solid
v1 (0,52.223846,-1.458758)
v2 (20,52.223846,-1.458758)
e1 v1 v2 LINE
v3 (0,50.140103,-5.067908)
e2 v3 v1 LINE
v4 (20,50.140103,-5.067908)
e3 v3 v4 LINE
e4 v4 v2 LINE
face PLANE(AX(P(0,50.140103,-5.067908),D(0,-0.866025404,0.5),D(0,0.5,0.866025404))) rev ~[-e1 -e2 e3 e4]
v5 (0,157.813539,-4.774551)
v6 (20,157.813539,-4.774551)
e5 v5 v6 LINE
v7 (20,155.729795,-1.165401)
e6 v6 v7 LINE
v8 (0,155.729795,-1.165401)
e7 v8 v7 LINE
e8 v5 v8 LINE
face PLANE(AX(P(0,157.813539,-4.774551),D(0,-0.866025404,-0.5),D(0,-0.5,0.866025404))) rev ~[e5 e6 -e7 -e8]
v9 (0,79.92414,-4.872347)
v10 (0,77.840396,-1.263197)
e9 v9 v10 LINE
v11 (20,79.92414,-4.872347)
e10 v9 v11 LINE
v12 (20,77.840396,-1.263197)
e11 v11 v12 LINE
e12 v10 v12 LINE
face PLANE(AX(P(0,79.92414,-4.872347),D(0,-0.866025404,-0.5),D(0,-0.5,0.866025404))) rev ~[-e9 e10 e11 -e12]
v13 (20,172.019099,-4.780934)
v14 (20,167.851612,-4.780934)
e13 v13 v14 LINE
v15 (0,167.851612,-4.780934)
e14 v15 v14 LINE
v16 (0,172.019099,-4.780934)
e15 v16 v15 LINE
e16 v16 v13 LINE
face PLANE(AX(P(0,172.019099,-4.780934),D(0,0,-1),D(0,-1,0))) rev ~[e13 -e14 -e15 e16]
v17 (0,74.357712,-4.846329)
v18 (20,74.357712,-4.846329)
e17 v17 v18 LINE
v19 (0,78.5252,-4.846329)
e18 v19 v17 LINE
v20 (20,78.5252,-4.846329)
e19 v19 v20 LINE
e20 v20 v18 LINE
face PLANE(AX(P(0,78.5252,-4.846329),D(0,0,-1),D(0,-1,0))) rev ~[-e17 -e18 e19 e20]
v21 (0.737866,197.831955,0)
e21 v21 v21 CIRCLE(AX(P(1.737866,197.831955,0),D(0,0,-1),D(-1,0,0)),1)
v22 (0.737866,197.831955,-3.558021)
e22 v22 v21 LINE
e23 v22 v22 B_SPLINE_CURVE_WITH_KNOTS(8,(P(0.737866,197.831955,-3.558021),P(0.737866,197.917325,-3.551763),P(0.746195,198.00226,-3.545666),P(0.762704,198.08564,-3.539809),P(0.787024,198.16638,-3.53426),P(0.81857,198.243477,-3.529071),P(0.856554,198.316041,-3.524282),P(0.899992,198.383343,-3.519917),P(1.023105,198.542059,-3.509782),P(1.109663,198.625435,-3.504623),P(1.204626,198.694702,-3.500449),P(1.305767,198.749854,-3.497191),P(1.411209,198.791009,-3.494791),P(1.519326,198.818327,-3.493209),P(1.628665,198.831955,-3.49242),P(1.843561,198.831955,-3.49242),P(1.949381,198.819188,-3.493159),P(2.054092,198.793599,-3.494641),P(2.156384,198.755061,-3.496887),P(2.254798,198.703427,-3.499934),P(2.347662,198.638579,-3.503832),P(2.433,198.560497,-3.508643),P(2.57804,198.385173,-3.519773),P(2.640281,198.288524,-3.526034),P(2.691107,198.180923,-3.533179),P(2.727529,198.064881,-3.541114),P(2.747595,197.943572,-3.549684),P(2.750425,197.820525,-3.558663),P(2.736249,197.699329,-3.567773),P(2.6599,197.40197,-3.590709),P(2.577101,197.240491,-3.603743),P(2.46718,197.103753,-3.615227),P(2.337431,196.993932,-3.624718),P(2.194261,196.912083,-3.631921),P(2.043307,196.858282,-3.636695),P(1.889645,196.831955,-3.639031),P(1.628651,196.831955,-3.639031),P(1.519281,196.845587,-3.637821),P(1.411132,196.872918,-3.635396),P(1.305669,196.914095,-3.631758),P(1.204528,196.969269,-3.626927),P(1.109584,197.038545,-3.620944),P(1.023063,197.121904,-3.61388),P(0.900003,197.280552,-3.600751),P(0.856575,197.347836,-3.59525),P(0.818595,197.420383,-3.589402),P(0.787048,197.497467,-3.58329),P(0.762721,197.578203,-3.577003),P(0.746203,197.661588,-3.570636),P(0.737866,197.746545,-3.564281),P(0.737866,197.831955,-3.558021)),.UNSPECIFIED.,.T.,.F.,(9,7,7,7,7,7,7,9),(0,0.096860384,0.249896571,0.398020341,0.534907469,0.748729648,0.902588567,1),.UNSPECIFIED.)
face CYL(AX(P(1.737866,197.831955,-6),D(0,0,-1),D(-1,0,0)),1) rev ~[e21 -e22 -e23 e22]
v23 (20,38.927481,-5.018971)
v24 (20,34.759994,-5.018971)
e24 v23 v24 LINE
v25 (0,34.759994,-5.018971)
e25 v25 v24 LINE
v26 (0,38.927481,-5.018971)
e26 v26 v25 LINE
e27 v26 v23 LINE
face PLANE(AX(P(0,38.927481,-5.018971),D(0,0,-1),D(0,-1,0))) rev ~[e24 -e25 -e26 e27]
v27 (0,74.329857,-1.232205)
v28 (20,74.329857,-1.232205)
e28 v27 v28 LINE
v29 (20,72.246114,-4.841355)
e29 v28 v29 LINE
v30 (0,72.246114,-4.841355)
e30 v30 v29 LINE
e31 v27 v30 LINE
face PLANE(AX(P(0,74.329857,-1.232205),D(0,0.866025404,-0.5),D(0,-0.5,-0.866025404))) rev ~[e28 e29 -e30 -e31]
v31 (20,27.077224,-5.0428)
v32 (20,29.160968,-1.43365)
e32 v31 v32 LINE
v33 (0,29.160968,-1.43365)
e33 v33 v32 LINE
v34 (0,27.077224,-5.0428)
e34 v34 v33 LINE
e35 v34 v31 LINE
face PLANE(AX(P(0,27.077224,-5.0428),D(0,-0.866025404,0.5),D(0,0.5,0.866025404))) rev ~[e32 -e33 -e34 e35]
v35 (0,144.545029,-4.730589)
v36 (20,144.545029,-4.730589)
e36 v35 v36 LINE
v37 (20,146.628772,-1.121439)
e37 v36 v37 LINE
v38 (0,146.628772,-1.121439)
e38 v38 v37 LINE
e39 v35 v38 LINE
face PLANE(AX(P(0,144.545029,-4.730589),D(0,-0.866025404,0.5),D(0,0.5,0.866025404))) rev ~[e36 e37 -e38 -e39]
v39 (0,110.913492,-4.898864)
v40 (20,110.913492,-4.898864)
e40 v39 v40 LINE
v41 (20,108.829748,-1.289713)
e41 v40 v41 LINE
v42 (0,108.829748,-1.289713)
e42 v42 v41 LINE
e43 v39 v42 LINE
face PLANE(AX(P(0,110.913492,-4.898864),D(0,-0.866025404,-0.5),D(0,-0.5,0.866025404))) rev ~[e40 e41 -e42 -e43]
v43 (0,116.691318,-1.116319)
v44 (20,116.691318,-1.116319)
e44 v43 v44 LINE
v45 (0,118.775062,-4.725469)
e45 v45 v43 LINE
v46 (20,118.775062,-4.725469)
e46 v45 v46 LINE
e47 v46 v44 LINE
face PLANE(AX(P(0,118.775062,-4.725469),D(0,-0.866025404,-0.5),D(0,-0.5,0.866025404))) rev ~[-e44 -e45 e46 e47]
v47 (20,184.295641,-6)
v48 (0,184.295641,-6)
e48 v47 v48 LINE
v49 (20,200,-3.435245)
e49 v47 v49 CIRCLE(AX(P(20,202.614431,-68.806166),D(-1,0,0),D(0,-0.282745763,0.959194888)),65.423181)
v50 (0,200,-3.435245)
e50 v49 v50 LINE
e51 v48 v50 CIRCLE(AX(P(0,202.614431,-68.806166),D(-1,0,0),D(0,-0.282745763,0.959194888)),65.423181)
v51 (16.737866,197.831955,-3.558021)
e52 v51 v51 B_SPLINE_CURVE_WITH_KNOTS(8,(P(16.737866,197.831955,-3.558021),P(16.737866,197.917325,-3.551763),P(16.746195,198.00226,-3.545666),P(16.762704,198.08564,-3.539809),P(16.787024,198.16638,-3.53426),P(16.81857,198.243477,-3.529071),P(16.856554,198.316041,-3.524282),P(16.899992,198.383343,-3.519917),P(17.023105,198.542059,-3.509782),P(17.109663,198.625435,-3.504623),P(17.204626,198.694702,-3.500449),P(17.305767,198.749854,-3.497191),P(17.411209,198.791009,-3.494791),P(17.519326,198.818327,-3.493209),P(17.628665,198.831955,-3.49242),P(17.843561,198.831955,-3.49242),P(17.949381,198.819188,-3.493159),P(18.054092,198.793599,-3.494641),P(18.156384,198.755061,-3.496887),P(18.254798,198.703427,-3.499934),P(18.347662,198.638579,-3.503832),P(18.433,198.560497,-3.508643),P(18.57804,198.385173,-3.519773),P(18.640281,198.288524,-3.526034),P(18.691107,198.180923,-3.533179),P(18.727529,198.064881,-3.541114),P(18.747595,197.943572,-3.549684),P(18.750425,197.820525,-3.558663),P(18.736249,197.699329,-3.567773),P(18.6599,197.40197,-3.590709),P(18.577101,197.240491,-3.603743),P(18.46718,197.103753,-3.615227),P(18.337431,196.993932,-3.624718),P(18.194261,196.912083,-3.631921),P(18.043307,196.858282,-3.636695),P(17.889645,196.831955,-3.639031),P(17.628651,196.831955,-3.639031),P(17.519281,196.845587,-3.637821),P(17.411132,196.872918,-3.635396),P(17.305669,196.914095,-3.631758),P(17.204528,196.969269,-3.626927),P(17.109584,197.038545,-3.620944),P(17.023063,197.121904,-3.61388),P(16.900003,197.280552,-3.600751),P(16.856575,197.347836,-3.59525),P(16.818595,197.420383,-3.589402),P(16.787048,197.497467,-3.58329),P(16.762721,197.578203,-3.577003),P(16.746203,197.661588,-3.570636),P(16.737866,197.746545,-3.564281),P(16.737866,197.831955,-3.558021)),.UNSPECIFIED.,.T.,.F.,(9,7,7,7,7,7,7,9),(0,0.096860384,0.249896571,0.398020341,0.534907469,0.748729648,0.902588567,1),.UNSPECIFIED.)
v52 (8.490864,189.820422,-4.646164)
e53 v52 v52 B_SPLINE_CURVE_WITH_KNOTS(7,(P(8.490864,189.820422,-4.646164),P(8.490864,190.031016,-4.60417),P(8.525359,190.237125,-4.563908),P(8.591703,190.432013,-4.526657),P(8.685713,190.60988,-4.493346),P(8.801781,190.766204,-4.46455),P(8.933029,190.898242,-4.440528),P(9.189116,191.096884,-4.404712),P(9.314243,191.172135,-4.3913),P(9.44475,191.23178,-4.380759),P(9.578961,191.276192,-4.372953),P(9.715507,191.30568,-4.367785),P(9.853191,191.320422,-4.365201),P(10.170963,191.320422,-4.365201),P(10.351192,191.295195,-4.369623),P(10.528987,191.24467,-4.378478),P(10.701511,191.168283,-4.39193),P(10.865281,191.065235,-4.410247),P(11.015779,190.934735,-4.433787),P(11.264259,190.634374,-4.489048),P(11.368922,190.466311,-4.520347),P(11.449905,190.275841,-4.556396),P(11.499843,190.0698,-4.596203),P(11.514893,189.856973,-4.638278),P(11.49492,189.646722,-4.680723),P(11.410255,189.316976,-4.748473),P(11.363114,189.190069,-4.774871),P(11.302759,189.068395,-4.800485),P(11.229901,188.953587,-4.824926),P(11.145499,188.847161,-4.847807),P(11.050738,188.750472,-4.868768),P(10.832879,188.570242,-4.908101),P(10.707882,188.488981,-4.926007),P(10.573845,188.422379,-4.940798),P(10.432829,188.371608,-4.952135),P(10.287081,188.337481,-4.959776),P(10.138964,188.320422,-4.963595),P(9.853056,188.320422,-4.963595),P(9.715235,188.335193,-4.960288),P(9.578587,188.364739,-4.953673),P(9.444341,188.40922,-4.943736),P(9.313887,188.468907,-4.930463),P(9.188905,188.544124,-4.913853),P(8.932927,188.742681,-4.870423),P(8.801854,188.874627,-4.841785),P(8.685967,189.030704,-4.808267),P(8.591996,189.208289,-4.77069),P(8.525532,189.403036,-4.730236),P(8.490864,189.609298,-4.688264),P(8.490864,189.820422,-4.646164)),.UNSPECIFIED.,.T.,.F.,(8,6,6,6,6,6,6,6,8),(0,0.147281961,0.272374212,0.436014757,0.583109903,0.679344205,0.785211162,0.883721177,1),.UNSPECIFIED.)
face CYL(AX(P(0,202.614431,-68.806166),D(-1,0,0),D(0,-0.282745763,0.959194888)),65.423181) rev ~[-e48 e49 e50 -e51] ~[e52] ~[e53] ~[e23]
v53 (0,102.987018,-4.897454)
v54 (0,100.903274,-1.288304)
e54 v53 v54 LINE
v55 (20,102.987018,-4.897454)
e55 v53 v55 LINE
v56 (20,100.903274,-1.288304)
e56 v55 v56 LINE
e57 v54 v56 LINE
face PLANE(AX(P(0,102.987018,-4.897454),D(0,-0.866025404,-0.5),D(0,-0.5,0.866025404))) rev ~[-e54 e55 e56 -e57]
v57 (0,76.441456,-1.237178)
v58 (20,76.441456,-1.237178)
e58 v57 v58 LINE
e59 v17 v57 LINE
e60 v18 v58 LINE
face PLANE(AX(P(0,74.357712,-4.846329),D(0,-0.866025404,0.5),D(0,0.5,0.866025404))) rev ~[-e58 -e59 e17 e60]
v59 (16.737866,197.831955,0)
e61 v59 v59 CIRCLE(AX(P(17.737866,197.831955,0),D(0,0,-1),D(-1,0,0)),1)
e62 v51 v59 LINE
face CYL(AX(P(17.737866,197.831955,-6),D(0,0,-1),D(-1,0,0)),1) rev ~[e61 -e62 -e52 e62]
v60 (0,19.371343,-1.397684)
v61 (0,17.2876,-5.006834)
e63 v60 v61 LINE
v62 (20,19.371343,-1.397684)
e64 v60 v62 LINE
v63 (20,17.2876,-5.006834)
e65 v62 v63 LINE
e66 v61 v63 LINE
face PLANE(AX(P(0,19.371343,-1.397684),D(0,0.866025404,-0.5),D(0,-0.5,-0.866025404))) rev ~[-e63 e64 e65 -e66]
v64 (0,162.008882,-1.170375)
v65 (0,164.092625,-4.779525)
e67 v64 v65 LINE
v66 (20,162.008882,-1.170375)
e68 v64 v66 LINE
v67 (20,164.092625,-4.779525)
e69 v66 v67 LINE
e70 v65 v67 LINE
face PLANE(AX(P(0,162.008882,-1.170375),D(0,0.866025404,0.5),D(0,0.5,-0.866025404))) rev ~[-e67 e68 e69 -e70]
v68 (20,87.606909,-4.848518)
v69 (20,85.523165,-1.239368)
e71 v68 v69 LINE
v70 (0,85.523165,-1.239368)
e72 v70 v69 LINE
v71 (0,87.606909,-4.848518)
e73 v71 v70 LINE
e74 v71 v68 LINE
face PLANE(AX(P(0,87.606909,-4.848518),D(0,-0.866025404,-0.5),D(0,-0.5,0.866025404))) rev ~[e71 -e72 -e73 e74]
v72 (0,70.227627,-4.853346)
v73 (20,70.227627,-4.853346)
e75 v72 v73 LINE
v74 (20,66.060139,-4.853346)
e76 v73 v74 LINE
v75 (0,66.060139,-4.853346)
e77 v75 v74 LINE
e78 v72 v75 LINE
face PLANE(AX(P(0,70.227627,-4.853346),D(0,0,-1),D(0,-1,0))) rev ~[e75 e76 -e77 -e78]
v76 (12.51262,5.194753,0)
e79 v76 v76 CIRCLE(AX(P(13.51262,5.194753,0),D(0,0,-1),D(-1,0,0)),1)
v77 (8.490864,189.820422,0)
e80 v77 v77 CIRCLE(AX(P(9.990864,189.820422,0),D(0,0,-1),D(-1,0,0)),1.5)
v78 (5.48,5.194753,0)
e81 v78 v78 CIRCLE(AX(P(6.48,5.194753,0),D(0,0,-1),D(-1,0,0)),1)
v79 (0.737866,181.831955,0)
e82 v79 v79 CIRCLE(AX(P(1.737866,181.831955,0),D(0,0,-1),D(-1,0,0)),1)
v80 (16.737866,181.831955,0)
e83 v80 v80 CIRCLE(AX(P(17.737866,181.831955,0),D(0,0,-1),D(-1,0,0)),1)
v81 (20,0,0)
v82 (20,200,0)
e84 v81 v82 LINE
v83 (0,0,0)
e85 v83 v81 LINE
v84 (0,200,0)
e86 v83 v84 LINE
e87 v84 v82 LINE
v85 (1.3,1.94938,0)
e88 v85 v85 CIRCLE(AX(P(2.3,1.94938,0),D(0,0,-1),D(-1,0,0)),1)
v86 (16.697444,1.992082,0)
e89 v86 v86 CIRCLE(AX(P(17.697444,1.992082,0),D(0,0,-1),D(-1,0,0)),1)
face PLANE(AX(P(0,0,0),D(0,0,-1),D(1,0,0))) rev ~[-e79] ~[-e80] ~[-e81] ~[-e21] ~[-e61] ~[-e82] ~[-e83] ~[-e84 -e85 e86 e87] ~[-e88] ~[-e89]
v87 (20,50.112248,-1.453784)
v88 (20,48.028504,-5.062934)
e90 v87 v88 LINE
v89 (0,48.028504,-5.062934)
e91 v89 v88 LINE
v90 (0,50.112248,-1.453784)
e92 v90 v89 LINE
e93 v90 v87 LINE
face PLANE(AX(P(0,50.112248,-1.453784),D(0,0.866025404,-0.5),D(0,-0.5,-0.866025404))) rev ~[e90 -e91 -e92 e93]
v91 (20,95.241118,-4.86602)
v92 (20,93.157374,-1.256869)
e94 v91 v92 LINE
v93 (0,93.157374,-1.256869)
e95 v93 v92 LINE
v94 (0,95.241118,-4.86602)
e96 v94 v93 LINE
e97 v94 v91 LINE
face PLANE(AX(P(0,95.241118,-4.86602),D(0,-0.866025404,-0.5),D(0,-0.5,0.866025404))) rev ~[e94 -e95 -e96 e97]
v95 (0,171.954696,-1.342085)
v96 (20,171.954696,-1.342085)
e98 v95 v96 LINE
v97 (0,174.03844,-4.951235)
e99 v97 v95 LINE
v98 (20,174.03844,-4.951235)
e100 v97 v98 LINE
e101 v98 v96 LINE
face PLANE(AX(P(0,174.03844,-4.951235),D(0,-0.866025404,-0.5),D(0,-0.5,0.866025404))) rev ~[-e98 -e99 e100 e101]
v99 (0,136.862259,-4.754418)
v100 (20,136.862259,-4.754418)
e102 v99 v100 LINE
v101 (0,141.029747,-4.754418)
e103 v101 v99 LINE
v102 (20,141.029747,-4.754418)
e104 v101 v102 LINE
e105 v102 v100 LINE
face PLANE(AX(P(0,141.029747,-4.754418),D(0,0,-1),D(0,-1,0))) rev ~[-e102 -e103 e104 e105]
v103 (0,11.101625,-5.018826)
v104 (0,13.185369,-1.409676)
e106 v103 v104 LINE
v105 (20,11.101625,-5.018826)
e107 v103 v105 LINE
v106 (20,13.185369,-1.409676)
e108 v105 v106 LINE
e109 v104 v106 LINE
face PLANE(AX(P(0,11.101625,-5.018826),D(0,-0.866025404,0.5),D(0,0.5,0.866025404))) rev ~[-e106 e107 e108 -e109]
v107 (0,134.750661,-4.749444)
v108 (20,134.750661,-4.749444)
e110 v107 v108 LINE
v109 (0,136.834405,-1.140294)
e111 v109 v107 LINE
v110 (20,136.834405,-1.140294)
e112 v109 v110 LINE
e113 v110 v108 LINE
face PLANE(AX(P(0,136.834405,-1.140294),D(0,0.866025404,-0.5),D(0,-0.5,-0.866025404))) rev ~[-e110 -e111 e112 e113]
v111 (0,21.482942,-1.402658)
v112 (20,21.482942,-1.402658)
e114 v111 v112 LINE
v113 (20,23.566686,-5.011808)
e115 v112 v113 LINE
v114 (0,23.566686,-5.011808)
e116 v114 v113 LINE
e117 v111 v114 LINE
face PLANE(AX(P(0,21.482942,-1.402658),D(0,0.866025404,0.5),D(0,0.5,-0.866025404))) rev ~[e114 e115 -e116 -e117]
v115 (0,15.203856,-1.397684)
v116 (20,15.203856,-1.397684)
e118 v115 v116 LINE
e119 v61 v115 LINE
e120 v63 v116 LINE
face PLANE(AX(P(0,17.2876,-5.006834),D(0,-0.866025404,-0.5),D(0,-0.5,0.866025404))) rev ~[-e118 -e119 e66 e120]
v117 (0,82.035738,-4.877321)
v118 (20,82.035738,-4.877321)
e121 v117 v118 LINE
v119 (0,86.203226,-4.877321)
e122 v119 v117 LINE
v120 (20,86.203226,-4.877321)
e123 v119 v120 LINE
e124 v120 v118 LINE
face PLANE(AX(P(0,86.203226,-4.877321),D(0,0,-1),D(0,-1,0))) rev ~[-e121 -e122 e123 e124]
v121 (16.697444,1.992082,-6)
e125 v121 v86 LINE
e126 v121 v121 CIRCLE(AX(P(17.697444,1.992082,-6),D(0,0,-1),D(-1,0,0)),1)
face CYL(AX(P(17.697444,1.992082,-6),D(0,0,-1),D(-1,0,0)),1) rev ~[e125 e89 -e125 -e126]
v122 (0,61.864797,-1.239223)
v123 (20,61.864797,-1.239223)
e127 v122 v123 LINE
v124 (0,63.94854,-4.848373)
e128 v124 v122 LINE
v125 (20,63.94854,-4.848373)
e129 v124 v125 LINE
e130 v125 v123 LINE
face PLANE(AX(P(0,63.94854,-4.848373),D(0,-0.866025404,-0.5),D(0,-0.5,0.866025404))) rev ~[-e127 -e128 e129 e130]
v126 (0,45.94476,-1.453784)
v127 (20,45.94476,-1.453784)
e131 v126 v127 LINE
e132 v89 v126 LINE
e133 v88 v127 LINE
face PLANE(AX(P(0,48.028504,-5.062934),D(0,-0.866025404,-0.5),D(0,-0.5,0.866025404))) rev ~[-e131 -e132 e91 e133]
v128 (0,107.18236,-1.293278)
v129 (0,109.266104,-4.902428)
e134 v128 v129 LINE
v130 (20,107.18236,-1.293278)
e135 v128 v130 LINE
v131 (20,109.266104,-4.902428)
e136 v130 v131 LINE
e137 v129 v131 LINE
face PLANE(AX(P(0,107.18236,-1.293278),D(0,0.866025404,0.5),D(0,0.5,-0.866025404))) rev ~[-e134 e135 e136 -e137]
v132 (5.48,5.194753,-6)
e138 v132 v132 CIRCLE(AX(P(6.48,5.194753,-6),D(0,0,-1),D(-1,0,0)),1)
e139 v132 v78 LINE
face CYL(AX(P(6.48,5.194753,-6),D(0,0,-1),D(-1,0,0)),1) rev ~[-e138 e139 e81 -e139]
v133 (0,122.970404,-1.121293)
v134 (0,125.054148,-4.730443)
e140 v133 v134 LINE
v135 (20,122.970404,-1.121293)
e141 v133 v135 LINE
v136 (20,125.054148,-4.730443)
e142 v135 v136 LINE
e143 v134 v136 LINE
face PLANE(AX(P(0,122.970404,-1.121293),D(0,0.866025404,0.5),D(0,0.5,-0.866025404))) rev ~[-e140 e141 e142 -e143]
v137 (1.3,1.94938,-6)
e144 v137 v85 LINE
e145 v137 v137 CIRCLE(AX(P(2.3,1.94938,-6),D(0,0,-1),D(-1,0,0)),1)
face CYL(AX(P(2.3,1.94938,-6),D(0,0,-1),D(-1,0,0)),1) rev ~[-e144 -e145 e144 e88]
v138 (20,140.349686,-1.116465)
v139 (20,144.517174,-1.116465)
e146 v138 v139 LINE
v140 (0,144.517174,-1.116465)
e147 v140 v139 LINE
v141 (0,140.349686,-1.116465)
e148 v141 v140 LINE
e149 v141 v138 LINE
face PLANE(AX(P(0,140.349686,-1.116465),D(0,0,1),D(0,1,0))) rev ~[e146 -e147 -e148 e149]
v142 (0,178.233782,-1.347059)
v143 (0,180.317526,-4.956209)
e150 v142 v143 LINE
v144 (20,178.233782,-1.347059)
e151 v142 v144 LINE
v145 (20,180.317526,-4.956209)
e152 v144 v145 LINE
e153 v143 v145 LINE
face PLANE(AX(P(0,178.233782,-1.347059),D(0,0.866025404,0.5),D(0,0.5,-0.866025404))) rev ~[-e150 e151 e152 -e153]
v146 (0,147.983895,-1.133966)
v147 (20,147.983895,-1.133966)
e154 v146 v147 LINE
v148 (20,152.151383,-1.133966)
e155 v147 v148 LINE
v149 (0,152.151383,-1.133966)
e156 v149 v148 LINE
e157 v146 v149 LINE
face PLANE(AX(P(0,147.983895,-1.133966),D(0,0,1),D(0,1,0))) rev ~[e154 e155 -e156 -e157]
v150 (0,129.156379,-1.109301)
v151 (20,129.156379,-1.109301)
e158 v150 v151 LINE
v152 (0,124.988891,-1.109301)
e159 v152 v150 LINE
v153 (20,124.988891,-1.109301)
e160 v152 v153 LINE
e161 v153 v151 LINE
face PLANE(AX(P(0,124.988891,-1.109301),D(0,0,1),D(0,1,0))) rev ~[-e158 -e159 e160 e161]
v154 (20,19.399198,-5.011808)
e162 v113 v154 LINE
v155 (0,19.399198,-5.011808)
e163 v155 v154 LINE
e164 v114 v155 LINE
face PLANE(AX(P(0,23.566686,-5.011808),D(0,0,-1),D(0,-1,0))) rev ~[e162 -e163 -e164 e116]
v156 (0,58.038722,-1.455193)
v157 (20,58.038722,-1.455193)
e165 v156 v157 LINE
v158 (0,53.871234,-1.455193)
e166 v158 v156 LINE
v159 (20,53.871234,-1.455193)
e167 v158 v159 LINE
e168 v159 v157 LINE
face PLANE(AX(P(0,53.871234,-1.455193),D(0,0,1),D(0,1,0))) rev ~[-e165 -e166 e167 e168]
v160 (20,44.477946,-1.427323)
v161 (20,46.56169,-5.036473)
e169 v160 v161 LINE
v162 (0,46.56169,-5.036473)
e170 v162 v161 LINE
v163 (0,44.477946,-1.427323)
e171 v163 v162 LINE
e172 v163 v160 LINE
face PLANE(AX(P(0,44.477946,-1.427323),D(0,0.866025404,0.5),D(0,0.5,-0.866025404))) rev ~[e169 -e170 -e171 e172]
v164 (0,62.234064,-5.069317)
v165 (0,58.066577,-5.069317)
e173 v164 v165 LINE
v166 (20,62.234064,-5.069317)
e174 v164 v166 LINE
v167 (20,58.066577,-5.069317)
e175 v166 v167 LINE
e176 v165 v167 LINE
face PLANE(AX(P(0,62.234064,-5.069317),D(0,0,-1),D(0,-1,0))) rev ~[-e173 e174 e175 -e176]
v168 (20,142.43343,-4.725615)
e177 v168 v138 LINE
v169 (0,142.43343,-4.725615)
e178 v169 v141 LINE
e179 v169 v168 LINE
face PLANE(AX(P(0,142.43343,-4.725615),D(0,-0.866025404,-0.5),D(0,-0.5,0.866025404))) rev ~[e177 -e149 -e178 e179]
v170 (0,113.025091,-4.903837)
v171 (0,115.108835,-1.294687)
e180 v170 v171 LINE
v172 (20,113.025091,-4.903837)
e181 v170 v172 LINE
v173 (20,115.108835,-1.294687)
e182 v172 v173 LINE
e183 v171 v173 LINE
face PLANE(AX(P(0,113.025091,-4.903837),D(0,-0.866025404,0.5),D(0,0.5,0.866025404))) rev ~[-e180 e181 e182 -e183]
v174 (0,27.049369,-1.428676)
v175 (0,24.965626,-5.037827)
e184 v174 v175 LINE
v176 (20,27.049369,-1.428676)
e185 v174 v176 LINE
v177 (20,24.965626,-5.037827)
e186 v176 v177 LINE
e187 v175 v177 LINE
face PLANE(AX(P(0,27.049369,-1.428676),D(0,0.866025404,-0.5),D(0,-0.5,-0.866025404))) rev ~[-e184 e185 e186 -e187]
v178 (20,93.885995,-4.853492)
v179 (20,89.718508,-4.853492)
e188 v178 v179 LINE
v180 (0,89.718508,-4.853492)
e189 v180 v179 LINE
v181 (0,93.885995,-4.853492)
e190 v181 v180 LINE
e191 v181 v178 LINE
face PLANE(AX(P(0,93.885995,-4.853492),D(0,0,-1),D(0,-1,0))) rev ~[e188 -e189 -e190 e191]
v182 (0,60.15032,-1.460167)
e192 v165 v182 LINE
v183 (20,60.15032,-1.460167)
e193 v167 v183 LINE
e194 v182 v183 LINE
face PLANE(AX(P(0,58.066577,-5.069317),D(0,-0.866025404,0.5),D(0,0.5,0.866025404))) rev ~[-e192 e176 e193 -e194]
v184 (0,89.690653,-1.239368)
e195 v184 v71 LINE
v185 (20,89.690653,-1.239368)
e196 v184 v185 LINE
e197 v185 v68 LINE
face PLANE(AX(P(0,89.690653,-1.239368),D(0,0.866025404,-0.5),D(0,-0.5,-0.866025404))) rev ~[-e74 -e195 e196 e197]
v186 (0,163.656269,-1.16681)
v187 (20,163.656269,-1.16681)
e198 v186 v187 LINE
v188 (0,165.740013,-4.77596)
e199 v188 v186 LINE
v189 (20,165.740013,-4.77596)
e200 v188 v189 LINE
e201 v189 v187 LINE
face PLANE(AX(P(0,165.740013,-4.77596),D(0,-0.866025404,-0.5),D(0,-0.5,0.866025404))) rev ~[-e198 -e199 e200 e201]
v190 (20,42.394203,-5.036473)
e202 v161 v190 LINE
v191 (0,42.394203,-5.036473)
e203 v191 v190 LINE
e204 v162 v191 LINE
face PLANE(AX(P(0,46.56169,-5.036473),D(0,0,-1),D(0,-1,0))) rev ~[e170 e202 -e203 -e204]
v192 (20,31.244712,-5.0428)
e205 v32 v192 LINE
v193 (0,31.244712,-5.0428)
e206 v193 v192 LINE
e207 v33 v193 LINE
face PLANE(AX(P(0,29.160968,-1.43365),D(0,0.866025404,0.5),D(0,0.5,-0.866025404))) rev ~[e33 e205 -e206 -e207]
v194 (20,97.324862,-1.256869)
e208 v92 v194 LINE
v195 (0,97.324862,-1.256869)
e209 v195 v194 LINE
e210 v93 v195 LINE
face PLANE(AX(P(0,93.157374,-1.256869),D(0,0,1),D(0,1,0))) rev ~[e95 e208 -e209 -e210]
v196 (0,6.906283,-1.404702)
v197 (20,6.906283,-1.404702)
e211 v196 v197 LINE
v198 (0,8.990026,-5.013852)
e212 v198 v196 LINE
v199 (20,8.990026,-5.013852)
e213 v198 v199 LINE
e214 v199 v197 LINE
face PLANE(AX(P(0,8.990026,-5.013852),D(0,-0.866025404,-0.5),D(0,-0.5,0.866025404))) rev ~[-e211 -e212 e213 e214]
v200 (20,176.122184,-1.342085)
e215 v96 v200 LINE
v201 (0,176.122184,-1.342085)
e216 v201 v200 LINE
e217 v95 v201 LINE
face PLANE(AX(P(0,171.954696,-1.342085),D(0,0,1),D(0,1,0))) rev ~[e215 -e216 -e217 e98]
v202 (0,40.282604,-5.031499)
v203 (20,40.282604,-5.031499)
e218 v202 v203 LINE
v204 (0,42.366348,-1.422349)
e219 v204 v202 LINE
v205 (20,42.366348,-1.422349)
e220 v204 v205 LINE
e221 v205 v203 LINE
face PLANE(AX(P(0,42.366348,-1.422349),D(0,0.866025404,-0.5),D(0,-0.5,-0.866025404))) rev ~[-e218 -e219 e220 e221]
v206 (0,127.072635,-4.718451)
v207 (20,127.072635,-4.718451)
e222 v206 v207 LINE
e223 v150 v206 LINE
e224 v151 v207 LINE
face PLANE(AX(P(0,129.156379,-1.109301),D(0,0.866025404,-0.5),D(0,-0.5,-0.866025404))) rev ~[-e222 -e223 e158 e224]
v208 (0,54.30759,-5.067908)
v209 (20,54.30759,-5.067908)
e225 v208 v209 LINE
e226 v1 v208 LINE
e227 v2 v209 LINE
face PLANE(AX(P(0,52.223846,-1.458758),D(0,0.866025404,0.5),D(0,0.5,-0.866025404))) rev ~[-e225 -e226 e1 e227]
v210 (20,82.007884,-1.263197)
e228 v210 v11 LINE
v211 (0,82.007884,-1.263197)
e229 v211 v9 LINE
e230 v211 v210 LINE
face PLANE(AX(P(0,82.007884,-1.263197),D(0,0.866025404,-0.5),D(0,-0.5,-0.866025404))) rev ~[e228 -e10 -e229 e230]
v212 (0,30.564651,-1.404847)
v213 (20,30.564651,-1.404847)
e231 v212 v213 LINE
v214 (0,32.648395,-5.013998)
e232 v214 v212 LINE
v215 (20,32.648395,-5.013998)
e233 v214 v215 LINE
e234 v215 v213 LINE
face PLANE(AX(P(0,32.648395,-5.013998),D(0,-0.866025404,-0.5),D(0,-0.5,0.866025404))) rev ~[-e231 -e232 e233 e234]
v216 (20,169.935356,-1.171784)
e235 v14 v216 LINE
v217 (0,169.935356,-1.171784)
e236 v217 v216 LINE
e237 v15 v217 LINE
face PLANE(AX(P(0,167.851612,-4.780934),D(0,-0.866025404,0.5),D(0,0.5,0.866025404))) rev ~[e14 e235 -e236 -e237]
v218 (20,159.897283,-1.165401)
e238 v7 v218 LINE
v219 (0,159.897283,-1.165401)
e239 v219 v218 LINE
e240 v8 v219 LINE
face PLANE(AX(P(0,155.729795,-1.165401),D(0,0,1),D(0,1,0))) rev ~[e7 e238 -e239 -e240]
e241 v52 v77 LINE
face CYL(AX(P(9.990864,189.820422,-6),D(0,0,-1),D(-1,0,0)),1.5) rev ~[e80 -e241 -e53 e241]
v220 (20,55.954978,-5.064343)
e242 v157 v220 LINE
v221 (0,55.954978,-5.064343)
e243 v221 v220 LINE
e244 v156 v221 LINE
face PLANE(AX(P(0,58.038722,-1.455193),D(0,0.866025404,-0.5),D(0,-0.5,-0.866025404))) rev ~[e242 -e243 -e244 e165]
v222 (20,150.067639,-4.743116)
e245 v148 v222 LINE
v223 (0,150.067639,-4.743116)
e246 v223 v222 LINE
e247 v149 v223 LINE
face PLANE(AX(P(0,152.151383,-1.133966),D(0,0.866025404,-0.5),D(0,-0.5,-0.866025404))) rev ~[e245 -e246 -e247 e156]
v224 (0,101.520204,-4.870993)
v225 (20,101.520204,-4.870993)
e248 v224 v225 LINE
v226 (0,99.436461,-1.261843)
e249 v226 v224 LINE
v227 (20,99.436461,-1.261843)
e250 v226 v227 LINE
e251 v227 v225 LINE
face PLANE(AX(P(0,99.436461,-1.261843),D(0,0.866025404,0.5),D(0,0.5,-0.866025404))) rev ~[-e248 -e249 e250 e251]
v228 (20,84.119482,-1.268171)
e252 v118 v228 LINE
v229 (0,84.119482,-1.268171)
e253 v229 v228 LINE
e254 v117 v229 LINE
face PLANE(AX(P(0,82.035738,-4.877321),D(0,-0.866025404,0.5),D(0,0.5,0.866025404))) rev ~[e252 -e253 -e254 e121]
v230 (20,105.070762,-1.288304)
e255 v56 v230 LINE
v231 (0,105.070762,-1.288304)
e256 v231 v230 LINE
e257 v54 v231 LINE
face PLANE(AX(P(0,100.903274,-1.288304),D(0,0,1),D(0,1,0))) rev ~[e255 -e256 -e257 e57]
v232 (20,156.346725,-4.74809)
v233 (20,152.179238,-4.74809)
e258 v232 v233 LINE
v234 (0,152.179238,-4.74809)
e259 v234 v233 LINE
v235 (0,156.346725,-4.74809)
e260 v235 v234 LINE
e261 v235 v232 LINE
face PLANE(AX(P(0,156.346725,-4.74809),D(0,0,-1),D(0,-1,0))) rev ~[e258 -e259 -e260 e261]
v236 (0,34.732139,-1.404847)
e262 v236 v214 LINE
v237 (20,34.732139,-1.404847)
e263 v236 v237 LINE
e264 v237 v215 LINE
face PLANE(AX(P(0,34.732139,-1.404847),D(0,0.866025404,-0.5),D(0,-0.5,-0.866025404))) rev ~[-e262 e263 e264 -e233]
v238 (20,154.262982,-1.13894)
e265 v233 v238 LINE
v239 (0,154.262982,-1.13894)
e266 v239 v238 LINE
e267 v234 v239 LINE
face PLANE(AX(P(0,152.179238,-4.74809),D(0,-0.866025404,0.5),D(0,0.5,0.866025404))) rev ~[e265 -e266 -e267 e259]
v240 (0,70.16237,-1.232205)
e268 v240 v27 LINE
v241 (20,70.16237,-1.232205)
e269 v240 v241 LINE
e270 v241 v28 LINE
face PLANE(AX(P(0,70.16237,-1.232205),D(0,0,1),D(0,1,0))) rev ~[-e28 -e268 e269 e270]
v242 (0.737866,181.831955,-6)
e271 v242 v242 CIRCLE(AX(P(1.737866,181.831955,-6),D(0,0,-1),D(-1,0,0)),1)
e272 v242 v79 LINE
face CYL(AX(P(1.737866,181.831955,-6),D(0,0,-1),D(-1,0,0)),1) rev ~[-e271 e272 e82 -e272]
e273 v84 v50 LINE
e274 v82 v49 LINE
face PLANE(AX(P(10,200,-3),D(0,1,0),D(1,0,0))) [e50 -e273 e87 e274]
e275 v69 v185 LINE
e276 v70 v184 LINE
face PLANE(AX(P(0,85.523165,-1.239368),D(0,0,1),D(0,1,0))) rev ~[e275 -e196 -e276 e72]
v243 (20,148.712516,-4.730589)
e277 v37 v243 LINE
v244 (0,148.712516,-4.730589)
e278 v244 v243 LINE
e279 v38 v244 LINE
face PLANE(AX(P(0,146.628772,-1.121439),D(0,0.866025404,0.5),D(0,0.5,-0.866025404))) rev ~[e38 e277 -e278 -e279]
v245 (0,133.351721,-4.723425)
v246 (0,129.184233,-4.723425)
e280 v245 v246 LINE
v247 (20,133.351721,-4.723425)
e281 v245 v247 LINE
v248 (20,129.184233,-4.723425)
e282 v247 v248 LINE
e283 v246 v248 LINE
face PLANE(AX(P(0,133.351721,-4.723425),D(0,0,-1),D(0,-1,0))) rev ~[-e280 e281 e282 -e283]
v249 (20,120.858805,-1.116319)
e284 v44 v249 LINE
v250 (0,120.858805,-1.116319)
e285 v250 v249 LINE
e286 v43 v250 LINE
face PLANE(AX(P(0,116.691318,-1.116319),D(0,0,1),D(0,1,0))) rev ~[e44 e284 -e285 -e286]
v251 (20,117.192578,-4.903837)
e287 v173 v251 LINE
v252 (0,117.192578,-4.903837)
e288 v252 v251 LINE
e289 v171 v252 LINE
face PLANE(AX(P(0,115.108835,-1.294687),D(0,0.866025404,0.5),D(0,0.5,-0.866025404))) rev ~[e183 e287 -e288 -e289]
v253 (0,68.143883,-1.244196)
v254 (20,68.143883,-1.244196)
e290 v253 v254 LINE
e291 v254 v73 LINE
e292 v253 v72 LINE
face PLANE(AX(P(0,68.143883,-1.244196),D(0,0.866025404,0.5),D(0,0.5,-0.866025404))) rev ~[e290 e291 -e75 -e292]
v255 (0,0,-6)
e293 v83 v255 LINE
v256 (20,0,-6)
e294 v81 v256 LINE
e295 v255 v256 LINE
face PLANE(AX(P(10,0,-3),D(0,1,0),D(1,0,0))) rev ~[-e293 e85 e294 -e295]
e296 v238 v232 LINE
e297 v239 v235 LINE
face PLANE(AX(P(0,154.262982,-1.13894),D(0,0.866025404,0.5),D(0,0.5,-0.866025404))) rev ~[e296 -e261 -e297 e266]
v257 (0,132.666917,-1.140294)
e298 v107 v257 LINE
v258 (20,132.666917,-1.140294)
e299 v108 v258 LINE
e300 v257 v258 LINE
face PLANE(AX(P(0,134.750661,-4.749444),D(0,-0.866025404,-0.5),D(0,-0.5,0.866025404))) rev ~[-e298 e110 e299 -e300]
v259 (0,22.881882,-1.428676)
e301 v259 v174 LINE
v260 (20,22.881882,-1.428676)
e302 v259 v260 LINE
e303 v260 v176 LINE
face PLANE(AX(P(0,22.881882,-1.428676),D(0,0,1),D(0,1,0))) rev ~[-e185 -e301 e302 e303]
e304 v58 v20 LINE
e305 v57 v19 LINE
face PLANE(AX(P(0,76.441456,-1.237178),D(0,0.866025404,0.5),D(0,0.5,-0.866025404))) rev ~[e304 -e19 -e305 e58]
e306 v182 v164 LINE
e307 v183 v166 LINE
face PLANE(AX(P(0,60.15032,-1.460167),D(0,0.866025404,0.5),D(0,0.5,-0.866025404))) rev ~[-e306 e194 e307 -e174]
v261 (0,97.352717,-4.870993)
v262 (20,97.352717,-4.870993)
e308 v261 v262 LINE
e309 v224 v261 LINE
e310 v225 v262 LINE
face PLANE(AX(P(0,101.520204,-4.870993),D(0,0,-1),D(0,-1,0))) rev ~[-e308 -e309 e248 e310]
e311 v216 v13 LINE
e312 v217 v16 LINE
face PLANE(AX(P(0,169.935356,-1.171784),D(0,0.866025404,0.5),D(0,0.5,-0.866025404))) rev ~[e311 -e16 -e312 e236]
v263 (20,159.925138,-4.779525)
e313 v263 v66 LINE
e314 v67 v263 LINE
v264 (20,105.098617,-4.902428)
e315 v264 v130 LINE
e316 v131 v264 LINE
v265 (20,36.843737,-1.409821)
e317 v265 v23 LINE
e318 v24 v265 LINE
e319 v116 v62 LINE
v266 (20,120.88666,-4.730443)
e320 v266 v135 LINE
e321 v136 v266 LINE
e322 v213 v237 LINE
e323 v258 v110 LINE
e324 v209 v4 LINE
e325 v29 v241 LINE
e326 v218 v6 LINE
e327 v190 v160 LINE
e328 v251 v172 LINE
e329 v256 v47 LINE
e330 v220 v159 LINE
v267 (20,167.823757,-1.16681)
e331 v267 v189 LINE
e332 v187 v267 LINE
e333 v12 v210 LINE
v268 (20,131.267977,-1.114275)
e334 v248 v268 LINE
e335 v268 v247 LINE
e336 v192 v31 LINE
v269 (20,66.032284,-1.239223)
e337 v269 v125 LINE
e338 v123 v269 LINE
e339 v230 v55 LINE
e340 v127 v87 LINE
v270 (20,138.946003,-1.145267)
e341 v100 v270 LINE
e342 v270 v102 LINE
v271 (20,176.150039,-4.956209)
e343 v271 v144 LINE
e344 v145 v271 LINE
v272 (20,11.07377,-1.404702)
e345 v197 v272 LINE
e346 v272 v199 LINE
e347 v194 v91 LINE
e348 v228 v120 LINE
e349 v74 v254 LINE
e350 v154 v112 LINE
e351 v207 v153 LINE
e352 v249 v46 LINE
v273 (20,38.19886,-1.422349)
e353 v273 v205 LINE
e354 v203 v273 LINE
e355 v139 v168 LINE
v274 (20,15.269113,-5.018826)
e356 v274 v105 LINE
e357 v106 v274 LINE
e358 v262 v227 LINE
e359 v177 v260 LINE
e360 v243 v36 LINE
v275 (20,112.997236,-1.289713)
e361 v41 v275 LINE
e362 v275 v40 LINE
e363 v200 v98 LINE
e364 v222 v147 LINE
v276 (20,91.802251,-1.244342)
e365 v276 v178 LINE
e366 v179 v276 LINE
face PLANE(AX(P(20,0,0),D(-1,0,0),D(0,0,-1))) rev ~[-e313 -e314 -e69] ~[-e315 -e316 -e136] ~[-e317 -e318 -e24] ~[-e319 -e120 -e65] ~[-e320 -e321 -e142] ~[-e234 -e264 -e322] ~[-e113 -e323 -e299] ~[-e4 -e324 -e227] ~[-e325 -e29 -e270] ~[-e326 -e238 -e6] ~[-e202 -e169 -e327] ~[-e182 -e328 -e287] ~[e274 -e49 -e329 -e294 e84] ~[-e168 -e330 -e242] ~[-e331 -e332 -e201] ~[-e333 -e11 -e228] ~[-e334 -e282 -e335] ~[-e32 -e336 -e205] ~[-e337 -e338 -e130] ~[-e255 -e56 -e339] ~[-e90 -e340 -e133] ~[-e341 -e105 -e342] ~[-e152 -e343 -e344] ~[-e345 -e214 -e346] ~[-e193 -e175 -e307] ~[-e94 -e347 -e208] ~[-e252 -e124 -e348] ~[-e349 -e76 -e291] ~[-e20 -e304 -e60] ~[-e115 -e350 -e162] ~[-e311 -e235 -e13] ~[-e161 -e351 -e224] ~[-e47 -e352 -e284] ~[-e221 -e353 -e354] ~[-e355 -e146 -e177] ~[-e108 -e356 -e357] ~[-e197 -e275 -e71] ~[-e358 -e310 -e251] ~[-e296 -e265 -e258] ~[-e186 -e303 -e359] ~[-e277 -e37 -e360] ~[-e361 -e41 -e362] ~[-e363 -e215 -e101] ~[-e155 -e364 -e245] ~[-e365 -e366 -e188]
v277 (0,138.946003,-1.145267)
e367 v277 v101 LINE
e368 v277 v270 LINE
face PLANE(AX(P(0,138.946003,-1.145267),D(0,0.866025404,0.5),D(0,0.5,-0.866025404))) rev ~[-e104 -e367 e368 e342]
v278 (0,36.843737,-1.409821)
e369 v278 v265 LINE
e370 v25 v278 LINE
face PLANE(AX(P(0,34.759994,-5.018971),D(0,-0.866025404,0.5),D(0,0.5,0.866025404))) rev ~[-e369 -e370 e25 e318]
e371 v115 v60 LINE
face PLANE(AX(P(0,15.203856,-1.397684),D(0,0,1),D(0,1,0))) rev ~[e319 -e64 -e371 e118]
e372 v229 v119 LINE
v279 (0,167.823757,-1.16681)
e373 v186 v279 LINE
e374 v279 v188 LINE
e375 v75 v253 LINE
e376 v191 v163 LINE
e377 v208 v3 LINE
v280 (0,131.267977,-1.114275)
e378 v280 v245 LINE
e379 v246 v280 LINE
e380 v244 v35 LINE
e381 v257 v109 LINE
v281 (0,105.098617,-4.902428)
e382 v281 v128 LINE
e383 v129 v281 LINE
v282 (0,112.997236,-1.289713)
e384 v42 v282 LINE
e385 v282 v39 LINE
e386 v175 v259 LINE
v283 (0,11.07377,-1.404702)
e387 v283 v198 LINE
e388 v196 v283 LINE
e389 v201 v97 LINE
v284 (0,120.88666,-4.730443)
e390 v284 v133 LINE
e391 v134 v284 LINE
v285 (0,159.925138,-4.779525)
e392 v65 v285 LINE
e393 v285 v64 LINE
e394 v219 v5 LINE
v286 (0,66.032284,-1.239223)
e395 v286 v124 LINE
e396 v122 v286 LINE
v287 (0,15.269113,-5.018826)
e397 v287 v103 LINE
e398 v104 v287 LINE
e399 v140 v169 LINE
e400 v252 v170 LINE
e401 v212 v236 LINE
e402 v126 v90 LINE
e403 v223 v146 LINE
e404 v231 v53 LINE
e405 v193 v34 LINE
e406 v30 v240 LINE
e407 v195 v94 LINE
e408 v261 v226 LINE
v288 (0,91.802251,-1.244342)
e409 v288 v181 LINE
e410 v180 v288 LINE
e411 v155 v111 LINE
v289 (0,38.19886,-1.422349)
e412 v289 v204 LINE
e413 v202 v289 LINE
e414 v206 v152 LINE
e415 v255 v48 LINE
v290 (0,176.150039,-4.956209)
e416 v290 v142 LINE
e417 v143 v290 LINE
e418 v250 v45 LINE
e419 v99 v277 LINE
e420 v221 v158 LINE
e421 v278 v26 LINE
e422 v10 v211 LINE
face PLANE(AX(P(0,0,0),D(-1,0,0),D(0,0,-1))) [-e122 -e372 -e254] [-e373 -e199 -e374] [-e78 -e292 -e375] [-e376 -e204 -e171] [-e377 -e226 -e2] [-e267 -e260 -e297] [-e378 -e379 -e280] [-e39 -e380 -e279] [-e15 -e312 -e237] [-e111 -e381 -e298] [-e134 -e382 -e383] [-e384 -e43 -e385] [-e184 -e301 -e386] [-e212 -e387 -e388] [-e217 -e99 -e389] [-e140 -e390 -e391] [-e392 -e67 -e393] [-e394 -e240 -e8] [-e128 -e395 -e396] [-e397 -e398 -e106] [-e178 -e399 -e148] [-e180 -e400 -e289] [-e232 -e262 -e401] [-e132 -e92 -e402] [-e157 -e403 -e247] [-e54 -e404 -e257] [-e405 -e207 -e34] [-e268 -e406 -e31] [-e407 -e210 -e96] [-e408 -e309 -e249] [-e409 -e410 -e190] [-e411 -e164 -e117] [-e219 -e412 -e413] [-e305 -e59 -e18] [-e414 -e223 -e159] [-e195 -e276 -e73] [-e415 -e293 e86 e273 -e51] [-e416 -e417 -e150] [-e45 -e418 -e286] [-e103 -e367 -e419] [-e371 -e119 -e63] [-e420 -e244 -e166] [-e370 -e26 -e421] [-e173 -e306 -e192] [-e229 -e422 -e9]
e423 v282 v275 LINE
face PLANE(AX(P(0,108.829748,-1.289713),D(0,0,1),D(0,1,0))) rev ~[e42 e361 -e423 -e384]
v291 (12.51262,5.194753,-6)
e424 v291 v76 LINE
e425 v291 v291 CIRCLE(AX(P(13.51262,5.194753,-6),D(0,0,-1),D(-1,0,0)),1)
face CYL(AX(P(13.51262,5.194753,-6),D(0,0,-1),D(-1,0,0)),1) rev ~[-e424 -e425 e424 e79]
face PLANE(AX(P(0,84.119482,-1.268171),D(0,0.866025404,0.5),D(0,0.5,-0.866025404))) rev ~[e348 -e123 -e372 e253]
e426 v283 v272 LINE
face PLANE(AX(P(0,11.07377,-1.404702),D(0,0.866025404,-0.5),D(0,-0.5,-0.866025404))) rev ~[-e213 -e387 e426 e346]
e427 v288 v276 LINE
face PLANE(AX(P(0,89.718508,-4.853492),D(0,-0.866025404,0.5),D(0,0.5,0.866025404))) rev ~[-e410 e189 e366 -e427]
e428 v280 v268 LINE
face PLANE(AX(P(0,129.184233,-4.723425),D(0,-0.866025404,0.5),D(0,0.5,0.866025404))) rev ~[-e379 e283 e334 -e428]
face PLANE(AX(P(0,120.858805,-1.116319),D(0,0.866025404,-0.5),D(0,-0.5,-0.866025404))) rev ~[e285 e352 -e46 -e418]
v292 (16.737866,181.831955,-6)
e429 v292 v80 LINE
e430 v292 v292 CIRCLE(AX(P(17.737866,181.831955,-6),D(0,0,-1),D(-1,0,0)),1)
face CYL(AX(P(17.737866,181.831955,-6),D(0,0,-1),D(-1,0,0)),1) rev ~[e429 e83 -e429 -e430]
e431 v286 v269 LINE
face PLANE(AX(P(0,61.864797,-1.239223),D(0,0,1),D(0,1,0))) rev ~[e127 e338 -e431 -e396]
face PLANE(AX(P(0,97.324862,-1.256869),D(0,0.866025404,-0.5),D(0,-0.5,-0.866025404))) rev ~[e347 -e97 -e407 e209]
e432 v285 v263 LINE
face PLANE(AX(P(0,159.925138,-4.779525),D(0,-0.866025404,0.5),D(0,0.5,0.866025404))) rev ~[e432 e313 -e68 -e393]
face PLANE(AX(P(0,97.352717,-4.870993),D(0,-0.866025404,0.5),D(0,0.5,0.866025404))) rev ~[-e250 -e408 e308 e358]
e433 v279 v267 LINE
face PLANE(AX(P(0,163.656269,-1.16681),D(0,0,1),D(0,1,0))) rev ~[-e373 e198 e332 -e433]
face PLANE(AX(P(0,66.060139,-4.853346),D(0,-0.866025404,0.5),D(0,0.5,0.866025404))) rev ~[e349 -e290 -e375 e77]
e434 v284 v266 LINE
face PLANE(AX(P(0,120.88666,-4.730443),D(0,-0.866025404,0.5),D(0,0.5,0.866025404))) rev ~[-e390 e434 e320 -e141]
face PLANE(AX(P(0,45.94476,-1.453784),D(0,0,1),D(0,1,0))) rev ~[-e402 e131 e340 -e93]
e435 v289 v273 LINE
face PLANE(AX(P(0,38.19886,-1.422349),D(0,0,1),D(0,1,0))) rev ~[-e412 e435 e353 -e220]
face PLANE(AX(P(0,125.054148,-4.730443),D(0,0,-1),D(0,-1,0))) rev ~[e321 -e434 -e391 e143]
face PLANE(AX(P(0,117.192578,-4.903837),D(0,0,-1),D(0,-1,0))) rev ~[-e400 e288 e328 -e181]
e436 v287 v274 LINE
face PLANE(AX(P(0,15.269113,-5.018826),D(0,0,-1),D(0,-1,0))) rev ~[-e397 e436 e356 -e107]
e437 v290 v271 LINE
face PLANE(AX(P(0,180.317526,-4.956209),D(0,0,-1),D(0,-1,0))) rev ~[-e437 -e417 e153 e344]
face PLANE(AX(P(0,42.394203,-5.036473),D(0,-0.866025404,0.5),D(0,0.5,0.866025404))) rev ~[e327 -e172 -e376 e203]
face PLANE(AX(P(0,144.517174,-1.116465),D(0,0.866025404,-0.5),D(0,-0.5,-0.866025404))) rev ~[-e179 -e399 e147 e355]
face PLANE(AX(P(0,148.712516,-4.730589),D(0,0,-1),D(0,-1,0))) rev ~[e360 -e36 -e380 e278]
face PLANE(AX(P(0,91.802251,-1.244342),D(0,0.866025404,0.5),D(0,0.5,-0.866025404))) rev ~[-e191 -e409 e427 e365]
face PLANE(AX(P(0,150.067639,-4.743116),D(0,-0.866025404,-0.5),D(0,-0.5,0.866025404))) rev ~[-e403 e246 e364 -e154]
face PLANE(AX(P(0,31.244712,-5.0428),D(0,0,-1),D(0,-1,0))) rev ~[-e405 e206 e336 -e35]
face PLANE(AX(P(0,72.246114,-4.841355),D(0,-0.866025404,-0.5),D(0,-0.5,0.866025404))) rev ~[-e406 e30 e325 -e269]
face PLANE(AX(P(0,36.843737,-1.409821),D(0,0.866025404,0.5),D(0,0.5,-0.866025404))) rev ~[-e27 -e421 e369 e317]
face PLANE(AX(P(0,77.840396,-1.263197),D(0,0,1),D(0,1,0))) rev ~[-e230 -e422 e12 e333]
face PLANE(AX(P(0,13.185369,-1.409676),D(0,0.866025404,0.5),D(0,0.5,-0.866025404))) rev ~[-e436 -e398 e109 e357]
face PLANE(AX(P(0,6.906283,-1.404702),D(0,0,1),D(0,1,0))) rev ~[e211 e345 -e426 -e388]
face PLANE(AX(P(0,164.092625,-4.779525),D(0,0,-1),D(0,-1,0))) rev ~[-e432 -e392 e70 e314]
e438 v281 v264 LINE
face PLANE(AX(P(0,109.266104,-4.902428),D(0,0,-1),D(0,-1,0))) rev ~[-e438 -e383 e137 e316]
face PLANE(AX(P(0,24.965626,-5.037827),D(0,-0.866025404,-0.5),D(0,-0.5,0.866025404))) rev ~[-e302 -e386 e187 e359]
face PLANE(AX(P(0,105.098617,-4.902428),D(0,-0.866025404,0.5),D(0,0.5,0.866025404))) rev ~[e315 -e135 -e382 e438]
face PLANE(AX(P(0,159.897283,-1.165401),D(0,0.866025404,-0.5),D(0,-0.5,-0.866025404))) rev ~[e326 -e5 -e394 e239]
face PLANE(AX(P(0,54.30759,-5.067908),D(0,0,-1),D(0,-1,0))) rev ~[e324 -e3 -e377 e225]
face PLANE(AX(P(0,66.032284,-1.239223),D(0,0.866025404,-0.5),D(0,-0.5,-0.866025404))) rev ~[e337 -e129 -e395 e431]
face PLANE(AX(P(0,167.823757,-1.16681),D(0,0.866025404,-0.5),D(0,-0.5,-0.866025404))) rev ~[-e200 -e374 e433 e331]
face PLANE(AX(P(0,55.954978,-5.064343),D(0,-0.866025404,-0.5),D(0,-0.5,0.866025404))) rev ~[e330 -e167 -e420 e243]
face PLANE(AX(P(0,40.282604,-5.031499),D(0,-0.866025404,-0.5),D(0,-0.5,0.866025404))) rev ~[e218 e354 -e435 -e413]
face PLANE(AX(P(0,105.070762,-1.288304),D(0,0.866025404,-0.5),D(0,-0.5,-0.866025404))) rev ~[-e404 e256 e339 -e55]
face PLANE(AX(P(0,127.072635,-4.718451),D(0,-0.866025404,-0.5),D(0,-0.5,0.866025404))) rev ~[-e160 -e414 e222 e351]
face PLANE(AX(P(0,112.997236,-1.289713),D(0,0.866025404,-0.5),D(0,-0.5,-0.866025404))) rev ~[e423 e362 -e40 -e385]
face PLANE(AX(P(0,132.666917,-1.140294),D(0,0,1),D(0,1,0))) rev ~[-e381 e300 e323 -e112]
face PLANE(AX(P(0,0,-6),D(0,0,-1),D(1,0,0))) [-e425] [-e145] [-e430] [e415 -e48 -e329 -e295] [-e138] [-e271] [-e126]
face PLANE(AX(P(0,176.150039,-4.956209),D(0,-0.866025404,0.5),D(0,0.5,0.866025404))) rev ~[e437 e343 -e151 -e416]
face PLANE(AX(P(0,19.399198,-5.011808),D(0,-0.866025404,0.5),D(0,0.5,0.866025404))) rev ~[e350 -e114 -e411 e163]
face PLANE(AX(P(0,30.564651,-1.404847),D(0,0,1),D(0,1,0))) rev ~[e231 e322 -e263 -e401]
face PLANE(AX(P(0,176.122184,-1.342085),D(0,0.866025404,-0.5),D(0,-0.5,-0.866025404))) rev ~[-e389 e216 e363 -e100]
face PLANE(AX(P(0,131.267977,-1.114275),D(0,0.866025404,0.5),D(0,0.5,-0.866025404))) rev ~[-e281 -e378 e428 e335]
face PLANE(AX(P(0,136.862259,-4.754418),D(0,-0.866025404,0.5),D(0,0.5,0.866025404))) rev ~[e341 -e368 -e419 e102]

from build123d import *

# Parameters (mm, degrees)
SKETCH3_W           = 20
SKETCH3_H           = 6
BOSS_EXTRUDE1_DEPTH = 200
SKETCH7_R           = 1
SKETCH7_R_2         = 1.5
CUT_EXTRUDE1_DEPTH  = 200
CUT_EXTRUDE2_DEPTH  = 20


with BuildPart() as part:
    # Sketch3 → Boss-Extrude1 (new body)
    with BuildSketch(Plane(origin=(0, 0, 0), x_dir=(1, 0, 0), z_dir=(0, 1, 0))):
        with Locations((10, 3)):
            Rectangle(SKETCH3_W, SKETCH3_H)
    extrude(amount=BOSS_EXTRUDE1_DEPTH)

    # Sketch7 → Cut-Extrude1 (cut)
    with BuildSketch(Plane(origin=(0, 0, -6), x_dir=(-1, 0, 0), z_dir=(0, 0, -1))):
        with Locations((-17.73786558, 197.831954878)):
            Circle(SKETCH7_R)
        with Locations((-9.990864499, 189.820422053)):
            Circle(SKETCH7_R_2)
        with Locations((-1.73786558, 181.831954878)):
            Circle(SKETCH7_R)
        with Locations((-17.73786558, 181.831954878)):
            Circle(SKETCH7_R)
        with Locations((-1.73786558, 197.831954878)):
            Circle(SKETCH7_R)
        with Locations((-17.697443934, 1.992082172)):
            Circle(SKETCH7_R)
        with Locations((-13.512620359, 5.194753276)):
            Circle(SKETCH7_R)
        with Locations((-6.48, 5.194753276)):
            Circle(SKETCH7_R)
        with Locations((-2.3, 1.949379891)):
            Circle(SKETCH7_R)
    extrude(amount=-CUT_EXTRUDE1_DEPTH, mode=Mode.SUBTRACT)

    # Sketch8 → Cut-Extrude2 (cut)
    with BuildSketch(Plane.ZY):
        with BuildLine():
            Line((-3.435173621, 200.001787597), (-6.052585671, 200.001787597))
            Line((-6.052585671, 200.001787597), (-6.052585671, 184.116303831))
            ThreePointArc((-6.052585671, 184.116303831), (-4.253368373, 191.978225379), (-3.435173621, 200.001787597))
        make_face()
        Polygon((-5.013852098, 8.990026394), (-1.404702024, 6.906282628), (-1.404702024, 11.073770161), align=None)
        Polygon((-1.409675828, 13.185368824), (-5.018825902, 15.269112591), (-5.018825902, 11.101625057), align=None)
        Polygon((-5.006834199, 17.287599614), (-1.397684125, 15.203855847), (-1.397684125, 19.371343381), align=None)
        Polygon((-1.40265793, 21.482942044), (-5.011808004, 23.566685811), (-5.011808004, 19.399198277), align=None)
        Polygon((-4.848372599, 63.948540489), (-1.239222525, 61.864796722), (-1.239222525, 66.032284256), align=None)
        Polygon((-1.24419633, 68.143882919), (-4.853346404, 70.227626686), (-4.853346404, 66.060139152), align=None)
        Polygon((-5.03782653, 24.96562567), (-1.428676456, 22.881881903), (-1.428676456, 27.049369437), align=None)
        Polygon((-1.433650261, 29.1609681), (-5.042800335, 31.244711867), (-5.042800335, 27.077224333), align=None)
        Polygon((-5.013997563, 32.648394903), (-1.404847489, 30.564651136), (-1.404847489, 34.73213867), align=None)
        Polygon((-1.409821293, 36.843737333), (-5.018971367, 38.927481099), (-5.018971367, 34.759993566), align=None)
        Polygon((-5.031499061, 40.282604028), (-1.422348987, 38.198860261), (-1.422348987, 42.366347795), align=None)
        Polygon((-1.427322791, 44.477946458), (-5.036472865, 46.561690225), (-5.036472865, 42.394202691), align=None)
        Polygon((-5.062933803, 48.028503916), (-1.453783729, 45.944760149), (-1.453783729, 50.112247683), align=None)
        Polygon((-1.458757534, 52.223846346), (-5.067907608, 54.307590112), (-5.067907608, 50.140102579), align=None)
        Polygon((-5.064343036, 55.954978053), (-1.455192962, 53.871234286), (-1.455192962, 58.03872182), align=None)
        Polygon((-1.460166767, 60.150320483), (-5.069316841, 62.23406425), (-5.069316841, 58.066576716), align=None)
        Polygon((-4.841354701, 72.246113708), (-1.232204627, 70.162369942), (-1.232204627, 74.329857475), align=None)
        Polygon((-1.237178431, 76.441456138), (-4.846328505, 78.525199905), (-4.846328505, 74.357712372), align=None)
        Polygon((-4.872347032, 79.924139765), (-1.263196958, 77.840395998), (-1.263196958, 82.007883531), align=None)
        Polygon((-1.268170762, 84.119482194), (-4.877320836, 86.203225961), (-4.877320836, 82.035738428), align=None)
        Polygon((-4.848518064, 87.606908997), (-1.23936799, 85.523165231), (-1.23936799, 89.690652764), align=None)
        Polygon((-1.244341795, 91.802251427), (-4.853491869, 93.885995194), (-4.853491869, 89.71850766), align=None)
        Polygon((-4.866019563, 95.241118123), (-1.256869489, 93.157374356), (-1.256869489, 97.324861889), align=None)
        Polygon((-1.261843293, 99.436460552), (-4.870993367, 101.520204319), (-4.870993367, 97.352716786), align=None)
        Polygon((-4.897454305, 102.98701801), (-1.288304231, 100.903274244), (-1.288304231, 105.070761777), align=None)
        Polygon((-1.293278035, 107.18236044), (-4.902428109, 109.266104207), (-4.902428109, 105.098616674), align=None)
        Polygon((-4.898863538, 110.913492147), (-1.289713464, 108.829748381), (-1.289713464, 112.997235914), align=None)
        Polygon((-1.294687269, 115.108834577), (-4.903837343, 117.192578344), (-4.903837343, 113.025090811), align=None)
        Polygon((-4.725469308, 118.775061554), (-1.116319234, 116.691317787), (-1.116319234, 120.858805321), align=None)
        Polygon((-1.121293038, 122.970403984), (-4.730443112, 125.05414775), (-4.730443112, 120.886660217), align=None)
        Polygon((-4.71845141, 127.072634773), (-1.109301336, 124.988891007), (-1.109301336, 129.15637854), align=None)
        Polygon((-1.11427514, 131.267977203), (-4.723425214, 133.35172097), (-4.723425214, 129.184233436), align=None)
        Polygon((-4.749443741, 134.750660829), (-1.140293667, 132.666917063), (-1.140293667, 136.834404596), align=None)
        Polygon((-1.145267471, 138.946003259), (-4.754417545, 141.029747026), (-4.754417545, 136.862259493), align=None)
        Polygon((-4.725614773, 142.433430062), (-1.116464699, 140.349686295), (-1.116464699, 144.517173829), align=None)
        Polygon((-1.121438503, 146.628772492), (-4.730588577, 148.712516259), (-4.730588577, 144.545028725), align=None)
        Polygon((-4.743116271, 150.067639187), (-1.133966197, 147.983895421), (-1.133966197, 152.151382954), align=None)
        Polygon((-1.138940002, 154.262981617), (-4.748090076, 156.346725384), (-4.748090076, 152.179237851), align=None)
        Polygon((-4.774551014, 157.813539075), (-1.16540094, 155.729795309), (-1.16540094, 159.897282842), align=None)
        Polygon((-1.170374744, 162.008881505), (-4.779524818, 164.092625272), (-4.779524818, 159.925137738), align=None)
        Polygon((-4.775960247, 165.740013212), (-1.166810173, 163.656269446), (-1.166810173, 167.823756979), align=None)
        Polygon((-1.171783977, 169.935355642), (-4.780934051, 172.019099409), (-4.780934051, 167.851611875), align=None)
        Polygon((-4.95123506, 174.038440061), (-1.342084986, 171.954696294), (-1.342084986, 176.122183828), align=None)
        Polygon((-1.34705879, 178.233782491), (-4.956208864, 180.317526258), (-4.956208864, 176.150038724), align=None)
    extrude(amount=-CUT_EXTRUDE2_DEPTH, mode=Mode.SUBTRACT)


solid = part.part
